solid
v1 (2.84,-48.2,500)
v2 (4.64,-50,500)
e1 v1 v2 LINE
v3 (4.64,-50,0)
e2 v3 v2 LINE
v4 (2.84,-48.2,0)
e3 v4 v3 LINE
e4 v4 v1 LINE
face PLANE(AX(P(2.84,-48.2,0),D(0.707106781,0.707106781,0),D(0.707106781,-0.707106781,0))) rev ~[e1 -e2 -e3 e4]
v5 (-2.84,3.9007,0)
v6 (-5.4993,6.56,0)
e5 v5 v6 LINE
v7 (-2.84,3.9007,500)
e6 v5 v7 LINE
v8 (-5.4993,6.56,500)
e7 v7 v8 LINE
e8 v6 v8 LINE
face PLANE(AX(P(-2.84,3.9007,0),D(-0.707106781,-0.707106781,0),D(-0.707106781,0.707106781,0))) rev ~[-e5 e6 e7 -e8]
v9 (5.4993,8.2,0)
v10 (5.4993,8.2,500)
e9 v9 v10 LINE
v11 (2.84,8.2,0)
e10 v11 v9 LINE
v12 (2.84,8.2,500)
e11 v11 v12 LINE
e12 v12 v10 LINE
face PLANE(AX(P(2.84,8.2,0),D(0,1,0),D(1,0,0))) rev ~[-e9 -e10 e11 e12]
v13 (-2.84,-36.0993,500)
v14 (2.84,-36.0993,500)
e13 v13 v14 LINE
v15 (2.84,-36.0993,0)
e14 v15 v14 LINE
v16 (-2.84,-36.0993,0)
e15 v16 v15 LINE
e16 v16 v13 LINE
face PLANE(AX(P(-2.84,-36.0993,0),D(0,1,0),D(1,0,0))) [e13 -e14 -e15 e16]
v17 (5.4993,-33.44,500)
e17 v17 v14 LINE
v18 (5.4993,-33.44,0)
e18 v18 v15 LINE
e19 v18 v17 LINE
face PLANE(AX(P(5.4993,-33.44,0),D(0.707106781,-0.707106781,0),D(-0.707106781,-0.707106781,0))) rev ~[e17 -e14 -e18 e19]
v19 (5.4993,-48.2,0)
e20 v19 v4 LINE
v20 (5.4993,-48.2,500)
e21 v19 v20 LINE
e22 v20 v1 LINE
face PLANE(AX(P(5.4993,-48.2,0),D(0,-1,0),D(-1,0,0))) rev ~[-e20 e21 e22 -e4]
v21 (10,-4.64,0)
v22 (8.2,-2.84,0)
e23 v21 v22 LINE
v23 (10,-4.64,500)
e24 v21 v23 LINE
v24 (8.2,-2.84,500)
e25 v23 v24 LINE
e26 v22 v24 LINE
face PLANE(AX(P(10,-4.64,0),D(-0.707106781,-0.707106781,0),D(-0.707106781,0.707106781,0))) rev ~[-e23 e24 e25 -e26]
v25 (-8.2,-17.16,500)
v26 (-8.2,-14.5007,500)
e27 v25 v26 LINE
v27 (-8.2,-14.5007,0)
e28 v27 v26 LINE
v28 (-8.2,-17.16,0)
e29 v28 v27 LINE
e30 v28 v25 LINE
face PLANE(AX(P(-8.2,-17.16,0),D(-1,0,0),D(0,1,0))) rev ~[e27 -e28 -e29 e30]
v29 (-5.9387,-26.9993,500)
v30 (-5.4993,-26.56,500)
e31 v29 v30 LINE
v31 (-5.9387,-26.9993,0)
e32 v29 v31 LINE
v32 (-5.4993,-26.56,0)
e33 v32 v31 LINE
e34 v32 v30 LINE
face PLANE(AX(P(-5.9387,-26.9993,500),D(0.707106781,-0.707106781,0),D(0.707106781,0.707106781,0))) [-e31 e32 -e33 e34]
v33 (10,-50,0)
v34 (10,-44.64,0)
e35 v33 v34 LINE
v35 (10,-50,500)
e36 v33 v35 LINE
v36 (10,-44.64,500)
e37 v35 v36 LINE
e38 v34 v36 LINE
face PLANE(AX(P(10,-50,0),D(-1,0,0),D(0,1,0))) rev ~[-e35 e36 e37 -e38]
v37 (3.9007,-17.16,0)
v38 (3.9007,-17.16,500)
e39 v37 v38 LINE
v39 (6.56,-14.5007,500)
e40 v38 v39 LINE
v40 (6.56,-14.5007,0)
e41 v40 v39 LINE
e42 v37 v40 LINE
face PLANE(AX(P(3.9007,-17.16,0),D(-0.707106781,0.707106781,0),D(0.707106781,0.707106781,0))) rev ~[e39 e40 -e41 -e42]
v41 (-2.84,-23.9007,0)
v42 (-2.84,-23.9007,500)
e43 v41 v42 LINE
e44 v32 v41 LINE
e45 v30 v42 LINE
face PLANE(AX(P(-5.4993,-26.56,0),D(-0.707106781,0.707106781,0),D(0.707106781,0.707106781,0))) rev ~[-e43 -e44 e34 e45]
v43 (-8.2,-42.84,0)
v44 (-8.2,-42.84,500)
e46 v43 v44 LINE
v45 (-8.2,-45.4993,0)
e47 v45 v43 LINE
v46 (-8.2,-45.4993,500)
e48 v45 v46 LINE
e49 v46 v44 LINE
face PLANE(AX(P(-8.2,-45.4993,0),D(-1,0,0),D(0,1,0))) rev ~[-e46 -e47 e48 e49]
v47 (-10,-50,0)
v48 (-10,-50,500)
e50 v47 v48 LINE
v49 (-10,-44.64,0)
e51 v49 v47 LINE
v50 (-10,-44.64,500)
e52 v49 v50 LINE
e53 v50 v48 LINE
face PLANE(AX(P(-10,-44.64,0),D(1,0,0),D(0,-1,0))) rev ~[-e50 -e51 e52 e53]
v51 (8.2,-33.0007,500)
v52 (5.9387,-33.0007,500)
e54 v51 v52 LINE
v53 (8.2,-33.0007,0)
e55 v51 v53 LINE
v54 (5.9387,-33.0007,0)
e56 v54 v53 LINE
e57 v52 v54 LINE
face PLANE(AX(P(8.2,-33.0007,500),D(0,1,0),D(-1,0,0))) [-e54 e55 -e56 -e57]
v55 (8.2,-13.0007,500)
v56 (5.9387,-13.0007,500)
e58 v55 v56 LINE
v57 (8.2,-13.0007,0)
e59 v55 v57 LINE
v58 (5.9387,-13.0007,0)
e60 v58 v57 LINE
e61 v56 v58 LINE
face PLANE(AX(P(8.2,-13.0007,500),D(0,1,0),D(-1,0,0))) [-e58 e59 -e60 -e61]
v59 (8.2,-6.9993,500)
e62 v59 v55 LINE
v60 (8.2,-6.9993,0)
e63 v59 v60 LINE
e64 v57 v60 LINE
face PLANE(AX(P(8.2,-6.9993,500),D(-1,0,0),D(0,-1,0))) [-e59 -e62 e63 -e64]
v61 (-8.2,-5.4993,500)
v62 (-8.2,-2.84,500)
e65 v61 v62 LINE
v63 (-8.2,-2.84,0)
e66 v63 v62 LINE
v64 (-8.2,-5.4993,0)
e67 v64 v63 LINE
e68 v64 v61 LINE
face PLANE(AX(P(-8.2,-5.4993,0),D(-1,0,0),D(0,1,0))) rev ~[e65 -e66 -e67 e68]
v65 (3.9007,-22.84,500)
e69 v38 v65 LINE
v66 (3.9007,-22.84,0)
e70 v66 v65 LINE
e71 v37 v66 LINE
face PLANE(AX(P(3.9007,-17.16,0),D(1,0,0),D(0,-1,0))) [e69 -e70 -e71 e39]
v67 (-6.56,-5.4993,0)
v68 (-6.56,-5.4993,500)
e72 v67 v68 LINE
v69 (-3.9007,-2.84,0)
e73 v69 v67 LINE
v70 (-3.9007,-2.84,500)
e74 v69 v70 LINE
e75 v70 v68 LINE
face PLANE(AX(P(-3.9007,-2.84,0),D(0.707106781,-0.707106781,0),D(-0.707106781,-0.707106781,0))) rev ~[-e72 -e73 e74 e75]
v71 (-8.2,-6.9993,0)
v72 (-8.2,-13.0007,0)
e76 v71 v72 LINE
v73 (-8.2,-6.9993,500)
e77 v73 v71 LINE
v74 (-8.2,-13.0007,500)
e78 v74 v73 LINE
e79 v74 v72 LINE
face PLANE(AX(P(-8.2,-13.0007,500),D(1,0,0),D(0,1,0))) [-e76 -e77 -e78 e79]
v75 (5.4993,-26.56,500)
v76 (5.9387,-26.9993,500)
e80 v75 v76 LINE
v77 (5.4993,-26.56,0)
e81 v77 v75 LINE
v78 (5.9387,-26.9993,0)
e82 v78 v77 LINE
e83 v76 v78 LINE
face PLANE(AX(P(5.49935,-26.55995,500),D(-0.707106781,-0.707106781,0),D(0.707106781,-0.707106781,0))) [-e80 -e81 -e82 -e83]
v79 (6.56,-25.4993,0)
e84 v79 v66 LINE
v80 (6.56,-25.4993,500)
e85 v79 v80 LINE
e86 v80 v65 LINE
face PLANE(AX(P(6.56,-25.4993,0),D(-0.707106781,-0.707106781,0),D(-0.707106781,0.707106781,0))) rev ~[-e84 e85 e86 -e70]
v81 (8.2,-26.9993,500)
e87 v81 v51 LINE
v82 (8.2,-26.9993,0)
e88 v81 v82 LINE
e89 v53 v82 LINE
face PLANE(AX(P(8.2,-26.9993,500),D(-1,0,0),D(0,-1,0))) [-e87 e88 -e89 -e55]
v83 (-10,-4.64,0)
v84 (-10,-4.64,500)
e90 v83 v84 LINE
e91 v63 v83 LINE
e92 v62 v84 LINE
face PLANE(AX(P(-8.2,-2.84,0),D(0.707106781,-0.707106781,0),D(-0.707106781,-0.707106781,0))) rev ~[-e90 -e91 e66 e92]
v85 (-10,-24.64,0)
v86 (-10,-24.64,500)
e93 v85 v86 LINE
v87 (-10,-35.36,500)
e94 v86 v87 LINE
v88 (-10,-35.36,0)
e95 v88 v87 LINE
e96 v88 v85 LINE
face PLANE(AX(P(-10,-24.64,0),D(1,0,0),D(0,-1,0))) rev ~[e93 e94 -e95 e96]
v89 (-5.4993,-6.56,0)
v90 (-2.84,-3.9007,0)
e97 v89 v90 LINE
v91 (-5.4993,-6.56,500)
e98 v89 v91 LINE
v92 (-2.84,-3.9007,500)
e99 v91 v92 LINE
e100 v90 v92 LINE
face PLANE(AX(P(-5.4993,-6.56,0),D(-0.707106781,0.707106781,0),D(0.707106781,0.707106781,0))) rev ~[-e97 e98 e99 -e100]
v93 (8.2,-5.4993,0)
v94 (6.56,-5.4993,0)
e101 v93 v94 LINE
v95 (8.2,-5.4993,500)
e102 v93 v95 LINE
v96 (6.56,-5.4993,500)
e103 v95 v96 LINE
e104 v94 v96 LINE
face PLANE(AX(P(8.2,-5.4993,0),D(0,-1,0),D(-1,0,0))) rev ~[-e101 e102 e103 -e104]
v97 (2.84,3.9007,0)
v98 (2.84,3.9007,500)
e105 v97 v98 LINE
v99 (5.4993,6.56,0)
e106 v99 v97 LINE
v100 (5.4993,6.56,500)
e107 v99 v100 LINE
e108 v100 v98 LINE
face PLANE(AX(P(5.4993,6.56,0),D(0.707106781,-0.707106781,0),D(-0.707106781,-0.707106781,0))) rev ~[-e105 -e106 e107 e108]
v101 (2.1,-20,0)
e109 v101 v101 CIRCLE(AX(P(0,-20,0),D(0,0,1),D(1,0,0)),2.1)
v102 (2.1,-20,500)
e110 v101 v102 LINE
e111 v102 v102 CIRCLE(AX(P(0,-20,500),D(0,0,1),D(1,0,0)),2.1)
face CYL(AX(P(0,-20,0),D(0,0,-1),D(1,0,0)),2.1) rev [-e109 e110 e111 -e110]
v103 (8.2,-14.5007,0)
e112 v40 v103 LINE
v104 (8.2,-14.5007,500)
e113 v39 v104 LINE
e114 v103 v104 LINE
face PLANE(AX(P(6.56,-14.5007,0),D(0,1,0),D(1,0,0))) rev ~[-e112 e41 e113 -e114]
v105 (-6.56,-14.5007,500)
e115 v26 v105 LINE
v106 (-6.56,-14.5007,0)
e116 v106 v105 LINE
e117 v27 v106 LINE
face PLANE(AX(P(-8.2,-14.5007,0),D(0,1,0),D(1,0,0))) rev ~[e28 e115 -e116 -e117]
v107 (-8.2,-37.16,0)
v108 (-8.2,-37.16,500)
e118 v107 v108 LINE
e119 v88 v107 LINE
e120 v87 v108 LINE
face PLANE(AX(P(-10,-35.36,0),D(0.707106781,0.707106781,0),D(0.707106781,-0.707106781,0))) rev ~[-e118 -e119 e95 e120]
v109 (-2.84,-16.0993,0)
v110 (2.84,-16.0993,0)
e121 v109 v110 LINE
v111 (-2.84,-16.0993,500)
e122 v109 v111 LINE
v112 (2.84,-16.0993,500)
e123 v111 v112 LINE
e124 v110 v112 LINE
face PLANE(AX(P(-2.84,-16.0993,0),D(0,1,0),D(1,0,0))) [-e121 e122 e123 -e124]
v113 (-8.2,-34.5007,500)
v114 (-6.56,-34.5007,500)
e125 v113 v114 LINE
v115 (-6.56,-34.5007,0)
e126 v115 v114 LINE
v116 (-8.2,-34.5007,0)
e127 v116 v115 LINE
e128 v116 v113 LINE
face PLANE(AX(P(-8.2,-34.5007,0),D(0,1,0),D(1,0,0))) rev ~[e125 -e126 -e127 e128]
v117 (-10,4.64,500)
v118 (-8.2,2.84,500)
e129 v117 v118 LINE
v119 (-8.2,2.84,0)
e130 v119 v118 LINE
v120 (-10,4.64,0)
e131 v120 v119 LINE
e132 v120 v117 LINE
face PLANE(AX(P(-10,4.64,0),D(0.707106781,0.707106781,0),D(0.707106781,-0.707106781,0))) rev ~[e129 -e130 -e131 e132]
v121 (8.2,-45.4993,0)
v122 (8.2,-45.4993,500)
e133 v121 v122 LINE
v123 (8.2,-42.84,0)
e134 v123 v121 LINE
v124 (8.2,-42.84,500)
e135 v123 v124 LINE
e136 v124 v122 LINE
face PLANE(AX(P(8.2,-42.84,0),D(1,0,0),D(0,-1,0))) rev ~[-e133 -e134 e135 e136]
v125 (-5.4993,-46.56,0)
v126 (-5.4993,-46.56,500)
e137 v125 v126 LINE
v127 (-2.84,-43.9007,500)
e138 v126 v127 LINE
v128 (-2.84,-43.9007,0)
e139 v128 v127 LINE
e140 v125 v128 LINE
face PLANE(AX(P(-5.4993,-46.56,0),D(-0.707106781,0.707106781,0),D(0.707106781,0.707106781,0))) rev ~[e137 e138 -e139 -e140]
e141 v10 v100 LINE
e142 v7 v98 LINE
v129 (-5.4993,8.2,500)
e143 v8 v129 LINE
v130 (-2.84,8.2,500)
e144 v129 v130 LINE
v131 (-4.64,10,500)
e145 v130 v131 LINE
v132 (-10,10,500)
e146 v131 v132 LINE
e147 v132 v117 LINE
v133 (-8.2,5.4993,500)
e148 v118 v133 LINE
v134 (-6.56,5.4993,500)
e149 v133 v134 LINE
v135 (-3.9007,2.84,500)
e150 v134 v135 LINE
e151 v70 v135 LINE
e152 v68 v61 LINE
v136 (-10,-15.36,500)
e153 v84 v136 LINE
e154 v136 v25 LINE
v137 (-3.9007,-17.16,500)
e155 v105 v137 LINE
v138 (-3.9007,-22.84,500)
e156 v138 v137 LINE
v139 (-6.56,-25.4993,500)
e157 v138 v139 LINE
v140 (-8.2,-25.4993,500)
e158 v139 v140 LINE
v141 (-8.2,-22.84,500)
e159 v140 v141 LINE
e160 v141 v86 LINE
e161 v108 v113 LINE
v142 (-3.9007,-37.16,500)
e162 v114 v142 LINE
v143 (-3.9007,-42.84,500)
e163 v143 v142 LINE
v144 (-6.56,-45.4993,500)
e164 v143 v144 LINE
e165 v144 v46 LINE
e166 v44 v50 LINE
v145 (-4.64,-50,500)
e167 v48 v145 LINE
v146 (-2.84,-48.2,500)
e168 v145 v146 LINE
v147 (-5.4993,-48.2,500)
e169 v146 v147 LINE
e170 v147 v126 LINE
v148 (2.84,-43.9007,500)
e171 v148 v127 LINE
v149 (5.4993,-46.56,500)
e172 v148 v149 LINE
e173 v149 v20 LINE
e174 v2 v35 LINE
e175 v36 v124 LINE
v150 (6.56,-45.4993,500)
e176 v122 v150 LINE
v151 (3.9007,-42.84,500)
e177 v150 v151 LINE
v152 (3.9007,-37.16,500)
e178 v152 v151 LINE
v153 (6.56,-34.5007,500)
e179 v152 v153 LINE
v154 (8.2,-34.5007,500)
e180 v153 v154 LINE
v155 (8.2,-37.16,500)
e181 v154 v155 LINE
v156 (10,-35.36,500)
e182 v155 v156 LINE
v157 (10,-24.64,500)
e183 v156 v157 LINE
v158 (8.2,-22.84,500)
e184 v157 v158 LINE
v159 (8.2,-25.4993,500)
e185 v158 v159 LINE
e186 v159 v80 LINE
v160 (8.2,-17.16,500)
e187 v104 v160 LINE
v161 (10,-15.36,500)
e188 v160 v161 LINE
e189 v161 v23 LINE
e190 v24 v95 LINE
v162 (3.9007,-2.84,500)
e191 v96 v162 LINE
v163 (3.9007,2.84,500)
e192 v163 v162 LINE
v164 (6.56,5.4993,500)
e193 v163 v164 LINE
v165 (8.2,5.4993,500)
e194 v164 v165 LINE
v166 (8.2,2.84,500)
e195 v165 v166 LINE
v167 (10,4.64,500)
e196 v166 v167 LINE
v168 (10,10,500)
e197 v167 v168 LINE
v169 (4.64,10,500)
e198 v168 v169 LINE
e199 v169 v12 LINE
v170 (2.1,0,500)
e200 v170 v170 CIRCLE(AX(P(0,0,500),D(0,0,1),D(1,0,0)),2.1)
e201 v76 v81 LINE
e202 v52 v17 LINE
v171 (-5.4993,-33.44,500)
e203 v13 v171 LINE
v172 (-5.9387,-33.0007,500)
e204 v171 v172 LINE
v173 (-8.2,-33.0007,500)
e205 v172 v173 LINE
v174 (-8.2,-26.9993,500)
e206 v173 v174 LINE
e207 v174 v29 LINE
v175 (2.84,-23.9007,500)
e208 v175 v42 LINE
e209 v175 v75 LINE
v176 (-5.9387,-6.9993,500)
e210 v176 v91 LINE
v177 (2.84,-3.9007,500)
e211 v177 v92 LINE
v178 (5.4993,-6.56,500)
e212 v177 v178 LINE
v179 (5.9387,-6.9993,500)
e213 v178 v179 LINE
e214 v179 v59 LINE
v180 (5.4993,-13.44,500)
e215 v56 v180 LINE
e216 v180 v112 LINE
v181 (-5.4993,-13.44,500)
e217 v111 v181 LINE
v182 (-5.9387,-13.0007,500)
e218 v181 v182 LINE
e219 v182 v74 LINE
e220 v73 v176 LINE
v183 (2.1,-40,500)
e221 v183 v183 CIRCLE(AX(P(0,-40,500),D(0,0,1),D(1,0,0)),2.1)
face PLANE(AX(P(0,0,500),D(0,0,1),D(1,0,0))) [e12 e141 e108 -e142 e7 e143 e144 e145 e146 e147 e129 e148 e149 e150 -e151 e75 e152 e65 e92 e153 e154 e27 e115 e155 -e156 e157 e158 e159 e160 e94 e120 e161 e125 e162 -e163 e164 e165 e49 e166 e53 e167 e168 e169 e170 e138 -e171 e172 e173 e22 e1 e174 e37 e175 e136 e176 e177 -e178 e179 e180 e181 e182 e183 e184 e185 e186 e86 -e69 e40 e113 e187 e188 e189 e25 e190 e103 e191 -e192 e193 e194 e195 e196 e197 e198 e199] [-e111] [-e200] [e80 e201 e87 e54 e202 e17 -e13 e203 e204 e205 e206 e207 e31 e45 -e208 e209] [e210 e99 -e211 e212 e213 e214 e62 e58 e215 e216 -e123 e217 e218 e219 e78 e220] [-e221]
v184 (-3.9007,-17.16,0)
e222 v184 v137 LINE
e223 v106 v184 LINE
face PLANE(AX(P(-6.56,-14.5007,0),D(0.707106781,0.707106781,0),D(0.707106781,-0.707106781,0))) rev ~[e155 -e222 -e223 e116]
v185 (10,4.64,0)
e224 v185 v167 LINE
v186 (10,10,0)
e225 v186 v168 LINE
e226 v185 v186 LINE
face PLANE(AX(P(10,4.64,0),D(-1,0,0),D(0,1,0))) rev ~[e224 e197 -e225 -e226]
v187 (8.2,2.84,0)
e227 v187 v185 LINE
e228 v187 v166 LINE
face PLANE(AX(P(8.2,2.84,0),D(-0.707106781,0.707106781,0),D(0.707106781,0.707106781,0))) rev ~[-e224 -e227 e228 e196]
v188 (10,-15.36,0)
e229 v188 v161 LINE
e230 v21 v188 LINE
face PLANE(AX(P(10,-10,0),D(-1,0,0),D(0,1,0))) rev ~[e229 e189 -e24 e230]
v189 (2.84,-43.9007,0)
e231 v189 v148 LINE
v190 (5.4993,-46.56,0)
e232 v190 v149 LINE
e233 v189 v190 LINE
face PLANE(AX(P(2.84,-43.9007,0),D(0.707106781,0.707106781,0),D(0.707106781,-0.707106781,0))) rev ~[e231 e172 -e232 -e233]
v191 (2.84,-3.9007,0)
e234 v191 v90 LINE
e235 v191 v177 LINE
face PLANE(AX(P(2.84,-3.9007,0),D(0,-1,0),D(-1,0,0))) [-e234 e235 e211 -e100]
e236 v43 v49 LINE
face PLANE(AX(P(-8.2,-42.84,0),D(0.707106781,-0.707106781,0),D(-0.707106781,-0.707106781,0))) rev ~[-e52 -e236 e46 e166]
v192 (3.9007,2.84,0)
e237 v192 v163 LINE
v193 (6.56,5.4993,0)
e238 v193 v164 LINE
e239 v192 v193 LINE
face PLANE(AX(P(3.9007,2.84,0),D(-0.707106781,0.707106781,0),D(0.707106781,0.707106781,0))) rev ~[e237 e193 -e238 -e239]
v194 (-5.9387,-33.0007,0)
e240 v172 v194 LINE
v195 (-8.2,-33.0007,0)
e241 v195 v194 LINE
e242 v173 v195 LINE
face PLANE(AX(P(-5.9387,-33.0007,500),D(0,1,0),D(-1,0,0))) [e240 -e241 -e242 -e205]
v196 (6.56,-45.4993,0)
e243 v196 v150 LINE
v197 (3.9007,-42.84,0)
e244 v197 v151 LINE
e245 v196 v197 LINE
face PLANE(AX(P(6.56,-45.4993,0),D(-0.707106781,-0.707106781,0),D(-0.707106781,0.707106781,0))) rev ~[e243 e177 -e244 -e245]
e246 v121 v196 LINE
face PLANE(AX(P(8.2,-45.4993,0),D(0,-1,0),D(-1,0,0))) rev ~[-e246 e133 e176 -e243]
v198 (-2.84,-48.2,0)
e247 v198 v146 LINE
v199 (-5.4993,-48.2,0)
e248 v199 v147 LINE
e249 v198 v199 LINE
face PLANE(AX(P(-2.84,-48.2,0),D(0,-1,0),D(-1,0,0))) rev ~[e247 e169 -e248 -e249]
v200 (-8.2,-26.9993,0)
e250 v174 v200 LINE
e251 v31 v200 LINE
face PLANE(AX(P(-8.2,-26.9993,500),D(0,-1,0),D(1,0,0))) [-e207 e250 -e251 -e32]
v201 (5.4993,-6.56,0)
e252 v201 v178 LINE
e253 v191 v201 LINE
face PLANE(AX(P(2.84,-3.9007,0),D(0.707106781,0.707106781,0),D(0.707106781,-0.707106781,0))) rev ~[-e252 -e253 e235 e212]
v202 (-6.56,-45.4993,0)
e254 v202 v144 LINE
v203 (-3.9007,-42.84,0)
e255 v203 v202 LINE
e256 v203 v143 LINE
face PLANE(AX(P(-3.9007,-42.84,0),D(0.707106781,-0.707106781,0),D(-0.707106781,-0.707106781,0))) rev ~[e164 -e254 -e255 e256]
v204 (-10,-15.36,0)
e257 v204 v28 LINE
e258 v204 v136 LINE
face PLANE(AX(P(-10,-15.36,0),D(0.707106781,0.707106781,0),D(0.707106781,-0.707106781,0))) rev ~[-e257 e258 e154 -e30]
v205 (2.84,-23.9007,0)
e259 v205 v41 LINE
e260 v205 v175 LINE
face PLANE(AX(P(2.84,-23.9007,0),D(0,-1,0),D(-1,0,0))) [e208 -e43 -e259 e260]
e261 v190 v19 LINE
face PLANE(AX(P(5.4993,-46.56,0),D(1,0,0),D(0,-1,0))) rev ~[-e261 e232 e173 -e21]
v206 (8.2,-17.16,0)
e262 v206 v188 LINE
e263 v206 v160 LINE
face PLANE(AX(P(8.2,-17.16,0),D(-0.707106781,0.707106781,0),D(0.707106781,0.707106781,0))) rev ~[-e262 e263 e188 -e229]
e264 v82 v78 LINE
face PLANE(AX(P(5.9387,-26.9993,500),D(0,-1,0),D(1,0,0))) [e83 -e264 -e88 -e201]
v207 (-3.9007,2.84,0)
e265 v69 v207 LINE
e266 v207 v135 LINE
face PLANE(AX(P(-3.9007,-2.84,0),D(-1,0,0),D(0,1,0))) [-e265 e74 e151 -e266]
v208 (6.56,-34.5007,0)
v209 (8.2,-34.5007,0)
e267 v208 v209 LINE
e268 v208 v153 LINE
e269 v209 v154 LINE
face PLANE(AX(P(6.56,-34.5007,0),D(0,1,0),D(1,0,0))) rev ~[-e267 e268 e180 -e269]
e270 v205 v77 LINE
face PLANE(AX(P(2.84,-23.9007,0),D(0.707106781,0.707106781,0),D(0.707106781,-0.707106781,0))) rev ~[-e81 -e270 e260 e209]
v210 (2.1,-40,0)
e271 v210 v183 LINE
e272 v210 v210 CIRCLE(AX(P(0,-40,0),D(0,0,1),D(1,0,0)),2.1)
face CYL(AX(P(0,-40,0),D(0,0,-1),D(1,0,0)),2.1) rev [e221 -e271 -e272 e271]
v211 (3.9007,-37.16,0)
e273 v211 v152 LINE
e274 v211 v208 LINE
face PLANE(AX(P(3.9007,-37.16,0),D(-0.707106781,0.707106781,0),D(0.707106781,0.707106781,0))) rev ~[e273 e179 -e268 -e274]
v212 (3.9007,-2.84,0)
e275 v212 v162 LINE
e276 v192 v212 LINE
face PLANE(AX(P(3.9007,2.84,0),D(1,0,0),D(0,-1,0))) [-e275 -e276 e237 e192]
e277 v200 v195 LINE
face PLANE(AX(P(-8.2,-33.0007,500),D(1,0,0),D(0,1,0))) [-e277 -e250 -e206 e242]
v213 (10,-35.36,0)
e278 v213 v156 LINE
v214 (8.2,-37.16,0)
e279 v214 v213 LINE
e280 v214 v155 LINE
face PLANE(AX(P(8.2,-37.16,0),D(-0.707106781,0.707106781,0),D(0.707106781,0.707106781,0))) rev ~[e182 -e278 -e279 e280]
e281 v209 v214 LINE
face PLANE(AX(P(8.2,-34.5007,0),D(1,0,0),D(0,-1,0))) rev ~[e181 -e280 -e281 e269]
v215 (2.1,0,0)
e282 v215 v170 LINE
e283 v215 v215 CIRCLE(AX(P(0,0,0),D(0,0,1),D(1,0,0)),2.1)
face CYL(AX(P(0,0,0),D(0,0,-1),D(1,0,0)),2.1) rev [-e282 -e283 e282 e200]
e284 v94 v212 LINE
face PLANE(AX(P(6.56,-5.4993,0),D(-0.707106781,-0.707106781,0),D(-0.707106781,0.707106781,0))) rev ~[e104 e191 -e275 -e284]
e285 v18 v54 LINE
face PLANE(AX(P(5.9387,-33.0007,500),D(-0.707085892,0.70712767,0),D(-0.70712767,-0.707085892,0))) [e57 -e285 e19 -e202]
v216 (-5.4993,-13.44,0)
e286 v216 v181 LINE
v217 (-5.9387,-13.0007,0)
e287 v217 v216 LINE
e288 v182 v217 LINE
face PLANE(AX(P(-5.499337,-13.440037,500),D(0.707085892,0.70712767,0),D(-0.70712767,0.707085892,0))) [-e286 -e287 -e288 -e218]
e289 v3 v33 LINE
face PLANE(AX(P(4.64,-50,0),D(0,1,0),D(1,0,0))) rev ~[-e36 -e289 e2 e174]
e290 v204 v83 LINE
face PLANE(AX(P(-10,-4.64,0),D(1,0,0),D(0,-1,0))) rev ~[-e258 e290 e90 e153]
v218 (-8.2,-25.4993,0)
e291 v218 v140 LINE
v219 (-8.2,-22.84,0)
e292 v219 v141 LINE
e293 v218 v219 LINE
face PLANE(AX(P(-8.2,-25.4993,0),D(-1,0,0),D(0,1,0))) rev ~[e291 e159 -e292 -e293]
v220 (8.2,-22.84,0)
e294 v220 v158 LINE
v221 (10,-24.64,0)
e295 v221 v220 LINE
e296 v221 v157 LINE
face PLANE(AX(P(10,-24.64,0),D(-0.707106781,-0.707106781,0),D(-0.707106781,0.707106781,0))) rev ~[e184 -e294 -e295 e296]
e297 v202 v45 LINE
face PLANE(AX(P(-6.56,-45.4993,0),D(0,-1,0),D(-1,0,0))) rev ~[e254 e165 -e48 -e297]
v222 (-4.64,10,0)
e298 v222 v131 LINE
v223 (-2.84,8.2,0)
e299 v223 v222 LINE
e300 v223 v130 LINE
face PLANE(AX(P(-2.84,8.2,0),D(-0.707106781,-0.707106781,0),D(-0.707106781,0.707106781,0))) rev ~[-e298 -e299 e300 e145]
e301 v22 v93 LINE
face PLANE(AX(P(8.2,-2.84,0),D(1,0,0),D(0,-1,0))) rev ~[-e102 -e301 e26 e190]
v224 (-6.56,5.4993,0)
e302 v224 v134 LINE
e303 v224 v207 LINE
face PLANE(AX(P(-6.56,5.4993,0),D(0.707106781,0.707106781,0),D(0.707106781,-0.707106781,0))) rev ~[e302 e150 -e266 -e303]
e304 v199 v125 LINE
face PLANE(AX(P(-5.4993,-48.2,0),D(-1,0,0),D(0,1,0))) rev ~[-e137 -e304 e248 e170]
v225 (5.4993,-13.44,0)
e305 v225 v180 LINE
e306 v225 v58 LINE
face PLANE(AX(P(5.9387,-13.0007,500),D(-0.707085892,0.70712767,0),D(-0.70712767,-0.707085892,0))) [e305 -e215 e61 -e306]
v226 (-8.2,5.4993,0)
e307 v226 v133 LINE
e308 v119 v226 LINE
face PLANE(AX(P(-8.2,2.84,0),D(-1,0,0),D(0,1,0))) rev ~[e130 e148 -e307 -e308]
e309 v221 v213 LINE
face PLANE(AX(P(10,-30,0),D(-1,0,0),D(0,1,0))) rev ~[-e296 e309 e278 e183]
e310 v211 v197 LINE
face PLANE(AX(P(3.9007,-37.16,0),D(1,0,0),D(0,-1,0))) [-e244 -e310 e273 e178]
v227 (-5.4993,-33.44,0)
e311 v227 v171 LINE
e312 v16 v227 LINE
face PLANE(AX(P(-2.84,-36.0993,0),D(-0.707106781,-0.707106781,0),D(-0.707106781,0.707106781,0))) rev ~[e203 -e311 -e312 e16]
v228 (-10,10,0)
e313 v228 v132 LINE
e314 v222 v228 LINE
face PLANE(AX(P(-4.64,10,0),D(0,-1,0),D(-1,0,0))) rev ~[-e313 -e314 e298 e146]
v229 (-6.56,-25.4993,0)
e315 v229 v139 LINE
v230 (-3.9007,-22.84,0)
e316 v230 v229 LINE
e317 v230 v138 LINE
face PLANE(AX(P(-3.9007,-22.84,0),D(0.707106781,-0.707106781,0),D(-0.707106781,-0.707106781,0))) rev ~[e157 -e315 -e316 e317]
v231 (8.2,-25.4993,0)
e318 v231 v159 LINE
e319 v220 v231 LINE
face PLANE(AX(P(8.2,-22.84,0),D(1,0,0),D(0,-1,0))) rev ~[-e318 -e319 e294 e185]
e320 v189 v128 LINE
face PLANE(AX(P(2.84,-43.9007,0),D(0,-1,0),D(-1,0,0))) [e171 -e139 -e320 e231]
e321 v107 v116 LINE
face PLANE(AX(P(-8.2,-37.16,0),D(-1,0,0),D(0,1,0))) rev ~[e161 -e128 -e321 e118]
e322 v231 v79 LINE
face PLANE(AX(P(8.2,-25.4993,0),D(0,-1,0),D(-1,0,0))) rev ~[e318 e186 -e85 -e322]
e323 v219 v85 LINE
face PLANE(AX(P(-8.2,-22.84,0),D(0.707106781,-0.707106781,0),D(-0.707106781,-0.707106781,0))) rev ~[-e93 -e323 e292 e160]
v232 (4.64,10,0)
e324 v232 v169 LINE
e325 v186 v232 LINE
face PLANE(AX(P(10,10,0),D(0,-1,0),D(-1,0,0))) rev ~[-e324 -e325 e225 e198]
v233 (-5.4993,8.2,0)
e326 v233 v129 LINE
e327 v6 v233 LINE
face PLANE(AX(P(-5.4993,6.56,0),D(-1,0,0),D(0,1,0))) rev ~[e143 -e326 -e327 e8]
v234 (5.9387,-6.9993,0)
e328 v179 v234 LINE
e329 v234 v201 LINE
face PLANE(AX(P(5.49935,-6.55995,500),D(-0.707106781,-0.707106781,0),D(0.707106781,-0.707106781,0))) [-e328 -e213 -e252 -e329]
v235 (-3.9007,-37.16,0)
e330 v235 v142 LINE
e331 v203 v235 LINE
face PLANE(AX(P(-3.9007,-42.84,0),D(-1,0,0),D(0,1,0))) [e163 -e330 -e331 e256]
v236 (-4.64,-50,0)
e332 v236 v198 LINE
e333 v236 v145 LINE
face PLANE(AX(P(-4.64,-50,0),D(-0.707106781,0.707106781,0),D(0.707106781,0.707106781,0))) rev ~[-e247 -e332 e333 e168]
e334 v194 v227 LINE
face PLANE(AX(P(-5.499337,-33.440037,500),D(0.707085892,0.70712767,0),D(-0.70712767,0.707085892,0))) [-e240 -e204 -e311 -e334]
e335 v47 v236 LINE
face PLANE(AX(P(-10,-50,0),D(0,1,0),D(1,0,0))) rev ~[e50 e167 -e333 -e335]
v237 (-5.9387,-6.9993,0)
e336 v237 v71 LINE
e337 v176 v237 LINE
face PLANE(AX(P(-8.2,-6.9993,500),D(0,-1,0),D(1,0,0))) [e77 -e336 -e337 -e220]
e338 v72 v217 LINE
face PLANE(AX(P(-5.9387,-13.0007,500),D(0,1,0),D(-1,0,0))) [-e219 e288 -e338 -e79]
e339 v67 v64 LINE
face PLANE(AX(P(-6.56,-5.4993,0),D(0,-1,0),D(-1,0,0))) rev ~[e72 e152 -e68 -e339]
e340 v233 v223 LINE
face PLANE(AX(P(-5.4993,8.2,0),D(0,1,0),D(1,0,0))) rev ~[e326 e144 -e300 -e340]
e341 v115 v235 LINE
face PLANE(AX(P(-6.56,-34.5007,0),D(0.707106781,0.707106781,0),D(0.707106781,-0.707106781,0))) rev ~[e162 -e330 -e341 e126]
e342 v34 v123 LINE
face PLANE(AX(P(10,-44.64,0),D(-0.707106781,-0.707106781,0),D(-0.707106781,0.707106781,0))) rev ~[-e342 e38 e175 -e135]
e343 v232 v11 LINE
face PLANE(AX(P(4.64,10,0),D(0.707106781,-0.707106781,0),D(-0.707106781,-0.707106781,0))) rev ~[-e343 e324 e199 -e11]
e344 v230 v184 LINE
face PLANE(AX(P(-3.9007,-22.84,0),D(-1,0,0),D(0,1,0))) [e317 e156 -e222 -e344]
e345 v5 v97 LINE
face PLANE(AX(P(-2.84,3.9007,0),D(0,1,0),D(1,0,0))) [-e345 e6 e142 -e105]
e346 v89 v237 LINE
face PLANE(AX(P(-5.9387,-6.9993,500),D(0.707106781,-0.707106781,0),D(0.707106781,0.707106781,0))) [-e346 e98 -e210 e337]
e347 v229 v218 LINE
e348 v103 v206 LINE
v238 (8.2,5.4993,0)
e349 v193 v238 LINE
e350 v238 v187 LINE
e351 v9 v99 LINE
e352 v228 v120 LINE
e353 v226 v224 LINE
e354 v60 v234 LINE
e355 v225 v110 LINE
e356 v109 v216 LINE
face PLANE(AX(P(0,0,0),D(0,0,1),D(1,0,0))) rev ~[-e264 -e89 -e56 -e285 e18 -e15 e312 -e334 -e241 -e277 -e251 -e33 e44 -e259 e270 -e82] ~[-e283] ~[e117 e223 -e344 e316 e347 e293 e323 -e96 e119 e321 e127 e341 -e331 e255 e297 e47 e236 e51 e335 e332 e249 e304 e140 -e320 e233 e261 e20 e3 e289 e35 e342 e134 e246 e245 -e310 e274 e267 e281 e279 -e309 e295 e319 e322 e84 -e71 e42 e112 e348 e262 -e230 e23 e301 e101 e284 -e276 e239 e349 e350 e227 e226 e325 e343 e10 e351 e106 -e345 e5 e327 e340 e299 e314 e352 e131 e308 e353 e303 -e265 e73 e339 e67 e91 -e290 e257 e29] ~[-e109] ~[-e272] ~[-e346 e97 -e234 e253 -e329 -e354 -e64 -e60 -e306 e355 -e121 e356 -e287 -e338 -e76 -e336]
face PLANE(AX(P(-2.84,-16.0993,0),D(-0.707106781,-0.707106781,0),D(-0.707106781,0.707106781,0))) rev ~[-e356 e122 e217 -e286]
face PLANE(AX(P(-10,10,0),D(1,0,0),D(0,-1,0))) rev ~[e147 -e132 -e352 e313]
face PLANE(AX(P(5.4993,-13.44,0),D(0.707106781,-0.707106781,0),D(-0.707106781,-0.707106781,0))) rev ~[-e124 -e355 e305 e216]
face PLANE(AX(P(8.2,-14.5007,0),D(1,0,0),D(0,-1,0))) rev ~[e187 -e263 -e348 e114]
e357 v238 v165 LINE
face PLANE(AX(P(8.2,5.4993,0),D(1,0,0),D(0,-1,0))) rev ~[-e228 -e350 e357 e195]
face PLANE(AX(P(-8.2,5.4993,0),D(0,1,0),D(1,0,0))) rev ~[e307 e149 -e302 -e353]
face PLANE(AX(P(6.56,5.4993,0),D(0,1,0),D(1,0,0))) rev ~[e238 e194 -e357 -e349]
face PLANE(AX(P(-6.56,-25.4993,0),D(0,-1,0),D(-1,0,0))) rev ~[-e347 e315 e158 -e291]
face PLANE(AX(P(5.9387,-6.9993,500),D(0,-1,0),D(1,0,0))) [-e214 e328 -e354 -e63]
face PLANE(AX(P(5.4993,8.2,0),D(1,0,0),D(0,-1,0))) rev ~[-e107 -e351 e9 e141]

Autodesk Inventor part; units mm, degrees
ref_plane "YZ Plane" through (0, 0, 0) normal (1, 0, 0) x (0, 1, 0)
sketch "Sketch1" plane through (0, 0, 0) normal (0, 0, 1) x (1, 0, 0)
  line L0 (-3.9007, 3.9007) -> (3.9007, 3.9007)
  line L1 (3.9007, 3.9007) -> (3.9007, -3.9007)
  line L2 (3.9007, -3.9007) -> (-3.9007, -3.9007)
  line L3 (-3.9007, -3.9007) -> (-3.9007, 3.9007)
  line L4 (0, 3.9007) -> (0, -3.9007) construction
  line L5 (-3.9007, 0) -> (3.9007, 0) construction
  circle A0 centre (0, 0) radius 2.1
  line L6 (0, 0) -> (-16.1173, 16.1173) construction
  line L7 (0, 0) -> (22.7933, 0) construction
  line L8 (-2.84, 3.9007) -> (-5.4993, 6.56)
  line L9 (-5.4993, 6.56) -> (-5.4993, 8.2)
  line L10 (-5.4993, 8.2) -> (-2.84, 8.2)
  line L11 (-2.84, 8.2) -> (-4.64, 10)
  line L12 (-4.64, 10) -> (-10, 10)
  line L13 (-10, 10) -> (-10, 4.64)
  line L14 (-10, 4.64) -> (-8.2, 2.84)
  line L15 (-8.2, 2.84) -> (-8.2, 5.4993)
  line L16 (-8.2, 5.4993) -> (-6.56, 5.4993)
  line L17 (-6.56, 5.4993) -> (-3.9007, 2.84)
  line L18 (-3.9007, 2.84) -> (-11.3102, 2.84) construction
  line L19 (-2.84, 3.9007) -> (-3.9007, 3.9007)
  line L20 (-3.9007, 2.84) -> (-3.9007, 3.9007)
  line L21 (-3.9007, -2.84) -> (-6.56, -5.4993)
  line L22 (-6.56, -5.4993) -> (-8.2, -5.4993)
  line L23 (-8.2, -5.4993) -> (-8.2, -2.84)
  line L24 (-8.2, -2.84) -> (-10, -4.64)
  line L25 (-10, -4.64) -> (-10, -10)
  line L26 (-10, -10) -> (-4.64, -10)
  line L27 (-4.64, -10) -> (-2.84, -8.2)
  line L28 (-2.84, -8.2) -> (-5.4993, -8.2)
  line L29 (-5.4993, -8.2) -> (-5.4993, -6.56)
  line L30 (-5.4993, -6.56) -> (-2.84, -3.9007)
  line L31 (-3.9007, -2.84) -> (-3.9007, -3.9007)
  line L32 (-2.84, -3.9007) -> (-3.9007, -3.9007)
  line L33 (2.84, -3.9007) -> (5.4993, -6.56)
  line L34 (5.4993, -6.56) -> (5.4993, -8.2)
  line L35 (5.4993, -8.2) -> (2.84, -8.2)
  line L36 (2.84, -8.2) -> (4.64, -10)
  line L37 (4.64, -10) -> (10, -10)
  line L38 (10, -10) -> (10, -4.64)
  line L39 (10, -4.64) -> (8.2, -2.84)
  line L40 (8.2, -2.84) -> (8.2, -5.4993)
  line L41 (8.2, -5.4993) -> (6.56, -5.4993)
  line L42 (6.56, -5.4993) -> (3.9007, -2.84)
  line L43 (2.84, -3.9007) -> (3.9007, -3.9007)
  line L44 (3.9007, -2.84) -> (3.9007, -3.9007)
  line L45 (3.9007, 2.84) -> (6.56, 5.4993)
  line L46 (6.56, 5.4993) -> (8.2, 5.4993)
  line L47 (8.2, 5.4993) -> (8.2, 2.84)
  line L48 (8.2, 2.84) -> (10, 4.64)
  line L49 (10, 4.64) -> (10, 10)
  line L50 (10, 10) -> (4.64, 10)
  line L51 (4.64, 10) -> (2.84, 8.2)
  line L52 (2.84, 8.2) -> (5.4993, 8.2)
  line L53 (5.4993, 8.2) -> (5.4993, 6.56)
  line L54 (5.4993, 6.56) -> (2.84, 3.9007)
  line L55 (3.9007, 2.84) -> (3.9007, 3.9007)
  line L56 (2.84, 3.9007) -> (3.9007, 3.9007)
  dimension "d7" = 4.2
  dimension "d8" = 135
  dimension "d9" = 1.5
  dimension "d10" = 1.64
  dimension "d11" = 1.8
  dimension "d12" = 2.84
  dimension "d13" = 10
  dimension "d16" = 360
extrude "Extrusion1" add sketch "Sketch1" along normal blind 500
pattern_linear "Rectangular Pattern1" count 3 spacing 20 along (0, -1, 0) of "Extrusion1"
sketch "Sketch2" plane through (0, 0, 500) normal (0, 0, 1) x (1, 0, 0)
  line L0 (8.2, -2.84) -> (8.2, -5.4993) projected
  line L1 (8.2, -5.4993) -> (6.56, -5.4993) projected
  line L2 (-6.56, -5.4993) -> (-8.2, -5.4993) projected
  line L3 (-8.2, -5.4993) -> (-8.2, -2.84) projected
  line L4 (-8.2, -14.5007) -> (-6.56, -14.5007) projected
  line L5 (6.56, -14.5007) -> (8.2, -14.5007) projected
  line L6 (5.4993, -11.8) -> (5.4993, -13.44) projected
  line L7 (5.4993, -13.44) -> (2.84, -16.0993) projected
  line L8 (-2.84, -16.0993) -> (-5.4993, -13.44) projected
  line L9 (-5.4993, -8.2) -> (-5.4993, -6.56) projected
  line L10 (-5.4993, -6.56) -> (-2.84, -3.9007) projected
  line L11 (2.84, -3.9007) -> (5.4993, -6.56) projected
  line L12 (2.84, -8.2) -> (4.64, -10) projected
  line L13 (-8.2, -6.9993) -> (-5.9387, -6.9993)
  line L14 (-5.9387, -6.9993) -> (-4.1231, -5.1837)
  line L15 (-4.1231, -5.1837) -> (4.1231, -5.1837)
  line L16 (4.1231, -5.1837) -> (5.9387, -6.9993)
  line L17 (5.9387, -6.9993) -> (8.2, -6.9993)
  line L18 (8.2, -6.9993) -> (8.2, -13.0007)
  line L19 (8.2, -13.0007) -> (5.9387, -13.0007)
  line L20 (5.9387, -13.0007) -> (4.2461, -14.6932)
  line L21 (4.2461, -14.6932) -> (-4.2461, -14.6932)
  line L22 (-4.2461, -14.6932) -> (-5.9387, -13.0007)
  line L23 (-5.9387, -13.0007) -> (-8.2, -13.0007)
  line L24 (-8.2, -13.0007) -> (-8.2, -6.9993)
  dimension "d23" = 1.5
  dimension "d24" = 1.5
  dimension "d25" = 1.5
  dimension "d26" = 1.5
extrude "Extrusion2" cut sketch "Sketch2" against normal up to next
pattern_linear "Rectangular Pattern2" count 2 spacing 20 along (0, -1, 0) of "Extrusion2"
ref_plane "Work Plane1" through (0, -20, 0) normal (0, 1, 0) x (-1, 0, 0)
ref_plane "Work Plane2" through (0, -40, 0) normal (0, 1, 0) x (-1, 0, 0)
equation "\"d24\" = d23"
equation "\"d25\" = d23"
equation "\"d26\" = d23"
properties part number "20x60x500mm"
